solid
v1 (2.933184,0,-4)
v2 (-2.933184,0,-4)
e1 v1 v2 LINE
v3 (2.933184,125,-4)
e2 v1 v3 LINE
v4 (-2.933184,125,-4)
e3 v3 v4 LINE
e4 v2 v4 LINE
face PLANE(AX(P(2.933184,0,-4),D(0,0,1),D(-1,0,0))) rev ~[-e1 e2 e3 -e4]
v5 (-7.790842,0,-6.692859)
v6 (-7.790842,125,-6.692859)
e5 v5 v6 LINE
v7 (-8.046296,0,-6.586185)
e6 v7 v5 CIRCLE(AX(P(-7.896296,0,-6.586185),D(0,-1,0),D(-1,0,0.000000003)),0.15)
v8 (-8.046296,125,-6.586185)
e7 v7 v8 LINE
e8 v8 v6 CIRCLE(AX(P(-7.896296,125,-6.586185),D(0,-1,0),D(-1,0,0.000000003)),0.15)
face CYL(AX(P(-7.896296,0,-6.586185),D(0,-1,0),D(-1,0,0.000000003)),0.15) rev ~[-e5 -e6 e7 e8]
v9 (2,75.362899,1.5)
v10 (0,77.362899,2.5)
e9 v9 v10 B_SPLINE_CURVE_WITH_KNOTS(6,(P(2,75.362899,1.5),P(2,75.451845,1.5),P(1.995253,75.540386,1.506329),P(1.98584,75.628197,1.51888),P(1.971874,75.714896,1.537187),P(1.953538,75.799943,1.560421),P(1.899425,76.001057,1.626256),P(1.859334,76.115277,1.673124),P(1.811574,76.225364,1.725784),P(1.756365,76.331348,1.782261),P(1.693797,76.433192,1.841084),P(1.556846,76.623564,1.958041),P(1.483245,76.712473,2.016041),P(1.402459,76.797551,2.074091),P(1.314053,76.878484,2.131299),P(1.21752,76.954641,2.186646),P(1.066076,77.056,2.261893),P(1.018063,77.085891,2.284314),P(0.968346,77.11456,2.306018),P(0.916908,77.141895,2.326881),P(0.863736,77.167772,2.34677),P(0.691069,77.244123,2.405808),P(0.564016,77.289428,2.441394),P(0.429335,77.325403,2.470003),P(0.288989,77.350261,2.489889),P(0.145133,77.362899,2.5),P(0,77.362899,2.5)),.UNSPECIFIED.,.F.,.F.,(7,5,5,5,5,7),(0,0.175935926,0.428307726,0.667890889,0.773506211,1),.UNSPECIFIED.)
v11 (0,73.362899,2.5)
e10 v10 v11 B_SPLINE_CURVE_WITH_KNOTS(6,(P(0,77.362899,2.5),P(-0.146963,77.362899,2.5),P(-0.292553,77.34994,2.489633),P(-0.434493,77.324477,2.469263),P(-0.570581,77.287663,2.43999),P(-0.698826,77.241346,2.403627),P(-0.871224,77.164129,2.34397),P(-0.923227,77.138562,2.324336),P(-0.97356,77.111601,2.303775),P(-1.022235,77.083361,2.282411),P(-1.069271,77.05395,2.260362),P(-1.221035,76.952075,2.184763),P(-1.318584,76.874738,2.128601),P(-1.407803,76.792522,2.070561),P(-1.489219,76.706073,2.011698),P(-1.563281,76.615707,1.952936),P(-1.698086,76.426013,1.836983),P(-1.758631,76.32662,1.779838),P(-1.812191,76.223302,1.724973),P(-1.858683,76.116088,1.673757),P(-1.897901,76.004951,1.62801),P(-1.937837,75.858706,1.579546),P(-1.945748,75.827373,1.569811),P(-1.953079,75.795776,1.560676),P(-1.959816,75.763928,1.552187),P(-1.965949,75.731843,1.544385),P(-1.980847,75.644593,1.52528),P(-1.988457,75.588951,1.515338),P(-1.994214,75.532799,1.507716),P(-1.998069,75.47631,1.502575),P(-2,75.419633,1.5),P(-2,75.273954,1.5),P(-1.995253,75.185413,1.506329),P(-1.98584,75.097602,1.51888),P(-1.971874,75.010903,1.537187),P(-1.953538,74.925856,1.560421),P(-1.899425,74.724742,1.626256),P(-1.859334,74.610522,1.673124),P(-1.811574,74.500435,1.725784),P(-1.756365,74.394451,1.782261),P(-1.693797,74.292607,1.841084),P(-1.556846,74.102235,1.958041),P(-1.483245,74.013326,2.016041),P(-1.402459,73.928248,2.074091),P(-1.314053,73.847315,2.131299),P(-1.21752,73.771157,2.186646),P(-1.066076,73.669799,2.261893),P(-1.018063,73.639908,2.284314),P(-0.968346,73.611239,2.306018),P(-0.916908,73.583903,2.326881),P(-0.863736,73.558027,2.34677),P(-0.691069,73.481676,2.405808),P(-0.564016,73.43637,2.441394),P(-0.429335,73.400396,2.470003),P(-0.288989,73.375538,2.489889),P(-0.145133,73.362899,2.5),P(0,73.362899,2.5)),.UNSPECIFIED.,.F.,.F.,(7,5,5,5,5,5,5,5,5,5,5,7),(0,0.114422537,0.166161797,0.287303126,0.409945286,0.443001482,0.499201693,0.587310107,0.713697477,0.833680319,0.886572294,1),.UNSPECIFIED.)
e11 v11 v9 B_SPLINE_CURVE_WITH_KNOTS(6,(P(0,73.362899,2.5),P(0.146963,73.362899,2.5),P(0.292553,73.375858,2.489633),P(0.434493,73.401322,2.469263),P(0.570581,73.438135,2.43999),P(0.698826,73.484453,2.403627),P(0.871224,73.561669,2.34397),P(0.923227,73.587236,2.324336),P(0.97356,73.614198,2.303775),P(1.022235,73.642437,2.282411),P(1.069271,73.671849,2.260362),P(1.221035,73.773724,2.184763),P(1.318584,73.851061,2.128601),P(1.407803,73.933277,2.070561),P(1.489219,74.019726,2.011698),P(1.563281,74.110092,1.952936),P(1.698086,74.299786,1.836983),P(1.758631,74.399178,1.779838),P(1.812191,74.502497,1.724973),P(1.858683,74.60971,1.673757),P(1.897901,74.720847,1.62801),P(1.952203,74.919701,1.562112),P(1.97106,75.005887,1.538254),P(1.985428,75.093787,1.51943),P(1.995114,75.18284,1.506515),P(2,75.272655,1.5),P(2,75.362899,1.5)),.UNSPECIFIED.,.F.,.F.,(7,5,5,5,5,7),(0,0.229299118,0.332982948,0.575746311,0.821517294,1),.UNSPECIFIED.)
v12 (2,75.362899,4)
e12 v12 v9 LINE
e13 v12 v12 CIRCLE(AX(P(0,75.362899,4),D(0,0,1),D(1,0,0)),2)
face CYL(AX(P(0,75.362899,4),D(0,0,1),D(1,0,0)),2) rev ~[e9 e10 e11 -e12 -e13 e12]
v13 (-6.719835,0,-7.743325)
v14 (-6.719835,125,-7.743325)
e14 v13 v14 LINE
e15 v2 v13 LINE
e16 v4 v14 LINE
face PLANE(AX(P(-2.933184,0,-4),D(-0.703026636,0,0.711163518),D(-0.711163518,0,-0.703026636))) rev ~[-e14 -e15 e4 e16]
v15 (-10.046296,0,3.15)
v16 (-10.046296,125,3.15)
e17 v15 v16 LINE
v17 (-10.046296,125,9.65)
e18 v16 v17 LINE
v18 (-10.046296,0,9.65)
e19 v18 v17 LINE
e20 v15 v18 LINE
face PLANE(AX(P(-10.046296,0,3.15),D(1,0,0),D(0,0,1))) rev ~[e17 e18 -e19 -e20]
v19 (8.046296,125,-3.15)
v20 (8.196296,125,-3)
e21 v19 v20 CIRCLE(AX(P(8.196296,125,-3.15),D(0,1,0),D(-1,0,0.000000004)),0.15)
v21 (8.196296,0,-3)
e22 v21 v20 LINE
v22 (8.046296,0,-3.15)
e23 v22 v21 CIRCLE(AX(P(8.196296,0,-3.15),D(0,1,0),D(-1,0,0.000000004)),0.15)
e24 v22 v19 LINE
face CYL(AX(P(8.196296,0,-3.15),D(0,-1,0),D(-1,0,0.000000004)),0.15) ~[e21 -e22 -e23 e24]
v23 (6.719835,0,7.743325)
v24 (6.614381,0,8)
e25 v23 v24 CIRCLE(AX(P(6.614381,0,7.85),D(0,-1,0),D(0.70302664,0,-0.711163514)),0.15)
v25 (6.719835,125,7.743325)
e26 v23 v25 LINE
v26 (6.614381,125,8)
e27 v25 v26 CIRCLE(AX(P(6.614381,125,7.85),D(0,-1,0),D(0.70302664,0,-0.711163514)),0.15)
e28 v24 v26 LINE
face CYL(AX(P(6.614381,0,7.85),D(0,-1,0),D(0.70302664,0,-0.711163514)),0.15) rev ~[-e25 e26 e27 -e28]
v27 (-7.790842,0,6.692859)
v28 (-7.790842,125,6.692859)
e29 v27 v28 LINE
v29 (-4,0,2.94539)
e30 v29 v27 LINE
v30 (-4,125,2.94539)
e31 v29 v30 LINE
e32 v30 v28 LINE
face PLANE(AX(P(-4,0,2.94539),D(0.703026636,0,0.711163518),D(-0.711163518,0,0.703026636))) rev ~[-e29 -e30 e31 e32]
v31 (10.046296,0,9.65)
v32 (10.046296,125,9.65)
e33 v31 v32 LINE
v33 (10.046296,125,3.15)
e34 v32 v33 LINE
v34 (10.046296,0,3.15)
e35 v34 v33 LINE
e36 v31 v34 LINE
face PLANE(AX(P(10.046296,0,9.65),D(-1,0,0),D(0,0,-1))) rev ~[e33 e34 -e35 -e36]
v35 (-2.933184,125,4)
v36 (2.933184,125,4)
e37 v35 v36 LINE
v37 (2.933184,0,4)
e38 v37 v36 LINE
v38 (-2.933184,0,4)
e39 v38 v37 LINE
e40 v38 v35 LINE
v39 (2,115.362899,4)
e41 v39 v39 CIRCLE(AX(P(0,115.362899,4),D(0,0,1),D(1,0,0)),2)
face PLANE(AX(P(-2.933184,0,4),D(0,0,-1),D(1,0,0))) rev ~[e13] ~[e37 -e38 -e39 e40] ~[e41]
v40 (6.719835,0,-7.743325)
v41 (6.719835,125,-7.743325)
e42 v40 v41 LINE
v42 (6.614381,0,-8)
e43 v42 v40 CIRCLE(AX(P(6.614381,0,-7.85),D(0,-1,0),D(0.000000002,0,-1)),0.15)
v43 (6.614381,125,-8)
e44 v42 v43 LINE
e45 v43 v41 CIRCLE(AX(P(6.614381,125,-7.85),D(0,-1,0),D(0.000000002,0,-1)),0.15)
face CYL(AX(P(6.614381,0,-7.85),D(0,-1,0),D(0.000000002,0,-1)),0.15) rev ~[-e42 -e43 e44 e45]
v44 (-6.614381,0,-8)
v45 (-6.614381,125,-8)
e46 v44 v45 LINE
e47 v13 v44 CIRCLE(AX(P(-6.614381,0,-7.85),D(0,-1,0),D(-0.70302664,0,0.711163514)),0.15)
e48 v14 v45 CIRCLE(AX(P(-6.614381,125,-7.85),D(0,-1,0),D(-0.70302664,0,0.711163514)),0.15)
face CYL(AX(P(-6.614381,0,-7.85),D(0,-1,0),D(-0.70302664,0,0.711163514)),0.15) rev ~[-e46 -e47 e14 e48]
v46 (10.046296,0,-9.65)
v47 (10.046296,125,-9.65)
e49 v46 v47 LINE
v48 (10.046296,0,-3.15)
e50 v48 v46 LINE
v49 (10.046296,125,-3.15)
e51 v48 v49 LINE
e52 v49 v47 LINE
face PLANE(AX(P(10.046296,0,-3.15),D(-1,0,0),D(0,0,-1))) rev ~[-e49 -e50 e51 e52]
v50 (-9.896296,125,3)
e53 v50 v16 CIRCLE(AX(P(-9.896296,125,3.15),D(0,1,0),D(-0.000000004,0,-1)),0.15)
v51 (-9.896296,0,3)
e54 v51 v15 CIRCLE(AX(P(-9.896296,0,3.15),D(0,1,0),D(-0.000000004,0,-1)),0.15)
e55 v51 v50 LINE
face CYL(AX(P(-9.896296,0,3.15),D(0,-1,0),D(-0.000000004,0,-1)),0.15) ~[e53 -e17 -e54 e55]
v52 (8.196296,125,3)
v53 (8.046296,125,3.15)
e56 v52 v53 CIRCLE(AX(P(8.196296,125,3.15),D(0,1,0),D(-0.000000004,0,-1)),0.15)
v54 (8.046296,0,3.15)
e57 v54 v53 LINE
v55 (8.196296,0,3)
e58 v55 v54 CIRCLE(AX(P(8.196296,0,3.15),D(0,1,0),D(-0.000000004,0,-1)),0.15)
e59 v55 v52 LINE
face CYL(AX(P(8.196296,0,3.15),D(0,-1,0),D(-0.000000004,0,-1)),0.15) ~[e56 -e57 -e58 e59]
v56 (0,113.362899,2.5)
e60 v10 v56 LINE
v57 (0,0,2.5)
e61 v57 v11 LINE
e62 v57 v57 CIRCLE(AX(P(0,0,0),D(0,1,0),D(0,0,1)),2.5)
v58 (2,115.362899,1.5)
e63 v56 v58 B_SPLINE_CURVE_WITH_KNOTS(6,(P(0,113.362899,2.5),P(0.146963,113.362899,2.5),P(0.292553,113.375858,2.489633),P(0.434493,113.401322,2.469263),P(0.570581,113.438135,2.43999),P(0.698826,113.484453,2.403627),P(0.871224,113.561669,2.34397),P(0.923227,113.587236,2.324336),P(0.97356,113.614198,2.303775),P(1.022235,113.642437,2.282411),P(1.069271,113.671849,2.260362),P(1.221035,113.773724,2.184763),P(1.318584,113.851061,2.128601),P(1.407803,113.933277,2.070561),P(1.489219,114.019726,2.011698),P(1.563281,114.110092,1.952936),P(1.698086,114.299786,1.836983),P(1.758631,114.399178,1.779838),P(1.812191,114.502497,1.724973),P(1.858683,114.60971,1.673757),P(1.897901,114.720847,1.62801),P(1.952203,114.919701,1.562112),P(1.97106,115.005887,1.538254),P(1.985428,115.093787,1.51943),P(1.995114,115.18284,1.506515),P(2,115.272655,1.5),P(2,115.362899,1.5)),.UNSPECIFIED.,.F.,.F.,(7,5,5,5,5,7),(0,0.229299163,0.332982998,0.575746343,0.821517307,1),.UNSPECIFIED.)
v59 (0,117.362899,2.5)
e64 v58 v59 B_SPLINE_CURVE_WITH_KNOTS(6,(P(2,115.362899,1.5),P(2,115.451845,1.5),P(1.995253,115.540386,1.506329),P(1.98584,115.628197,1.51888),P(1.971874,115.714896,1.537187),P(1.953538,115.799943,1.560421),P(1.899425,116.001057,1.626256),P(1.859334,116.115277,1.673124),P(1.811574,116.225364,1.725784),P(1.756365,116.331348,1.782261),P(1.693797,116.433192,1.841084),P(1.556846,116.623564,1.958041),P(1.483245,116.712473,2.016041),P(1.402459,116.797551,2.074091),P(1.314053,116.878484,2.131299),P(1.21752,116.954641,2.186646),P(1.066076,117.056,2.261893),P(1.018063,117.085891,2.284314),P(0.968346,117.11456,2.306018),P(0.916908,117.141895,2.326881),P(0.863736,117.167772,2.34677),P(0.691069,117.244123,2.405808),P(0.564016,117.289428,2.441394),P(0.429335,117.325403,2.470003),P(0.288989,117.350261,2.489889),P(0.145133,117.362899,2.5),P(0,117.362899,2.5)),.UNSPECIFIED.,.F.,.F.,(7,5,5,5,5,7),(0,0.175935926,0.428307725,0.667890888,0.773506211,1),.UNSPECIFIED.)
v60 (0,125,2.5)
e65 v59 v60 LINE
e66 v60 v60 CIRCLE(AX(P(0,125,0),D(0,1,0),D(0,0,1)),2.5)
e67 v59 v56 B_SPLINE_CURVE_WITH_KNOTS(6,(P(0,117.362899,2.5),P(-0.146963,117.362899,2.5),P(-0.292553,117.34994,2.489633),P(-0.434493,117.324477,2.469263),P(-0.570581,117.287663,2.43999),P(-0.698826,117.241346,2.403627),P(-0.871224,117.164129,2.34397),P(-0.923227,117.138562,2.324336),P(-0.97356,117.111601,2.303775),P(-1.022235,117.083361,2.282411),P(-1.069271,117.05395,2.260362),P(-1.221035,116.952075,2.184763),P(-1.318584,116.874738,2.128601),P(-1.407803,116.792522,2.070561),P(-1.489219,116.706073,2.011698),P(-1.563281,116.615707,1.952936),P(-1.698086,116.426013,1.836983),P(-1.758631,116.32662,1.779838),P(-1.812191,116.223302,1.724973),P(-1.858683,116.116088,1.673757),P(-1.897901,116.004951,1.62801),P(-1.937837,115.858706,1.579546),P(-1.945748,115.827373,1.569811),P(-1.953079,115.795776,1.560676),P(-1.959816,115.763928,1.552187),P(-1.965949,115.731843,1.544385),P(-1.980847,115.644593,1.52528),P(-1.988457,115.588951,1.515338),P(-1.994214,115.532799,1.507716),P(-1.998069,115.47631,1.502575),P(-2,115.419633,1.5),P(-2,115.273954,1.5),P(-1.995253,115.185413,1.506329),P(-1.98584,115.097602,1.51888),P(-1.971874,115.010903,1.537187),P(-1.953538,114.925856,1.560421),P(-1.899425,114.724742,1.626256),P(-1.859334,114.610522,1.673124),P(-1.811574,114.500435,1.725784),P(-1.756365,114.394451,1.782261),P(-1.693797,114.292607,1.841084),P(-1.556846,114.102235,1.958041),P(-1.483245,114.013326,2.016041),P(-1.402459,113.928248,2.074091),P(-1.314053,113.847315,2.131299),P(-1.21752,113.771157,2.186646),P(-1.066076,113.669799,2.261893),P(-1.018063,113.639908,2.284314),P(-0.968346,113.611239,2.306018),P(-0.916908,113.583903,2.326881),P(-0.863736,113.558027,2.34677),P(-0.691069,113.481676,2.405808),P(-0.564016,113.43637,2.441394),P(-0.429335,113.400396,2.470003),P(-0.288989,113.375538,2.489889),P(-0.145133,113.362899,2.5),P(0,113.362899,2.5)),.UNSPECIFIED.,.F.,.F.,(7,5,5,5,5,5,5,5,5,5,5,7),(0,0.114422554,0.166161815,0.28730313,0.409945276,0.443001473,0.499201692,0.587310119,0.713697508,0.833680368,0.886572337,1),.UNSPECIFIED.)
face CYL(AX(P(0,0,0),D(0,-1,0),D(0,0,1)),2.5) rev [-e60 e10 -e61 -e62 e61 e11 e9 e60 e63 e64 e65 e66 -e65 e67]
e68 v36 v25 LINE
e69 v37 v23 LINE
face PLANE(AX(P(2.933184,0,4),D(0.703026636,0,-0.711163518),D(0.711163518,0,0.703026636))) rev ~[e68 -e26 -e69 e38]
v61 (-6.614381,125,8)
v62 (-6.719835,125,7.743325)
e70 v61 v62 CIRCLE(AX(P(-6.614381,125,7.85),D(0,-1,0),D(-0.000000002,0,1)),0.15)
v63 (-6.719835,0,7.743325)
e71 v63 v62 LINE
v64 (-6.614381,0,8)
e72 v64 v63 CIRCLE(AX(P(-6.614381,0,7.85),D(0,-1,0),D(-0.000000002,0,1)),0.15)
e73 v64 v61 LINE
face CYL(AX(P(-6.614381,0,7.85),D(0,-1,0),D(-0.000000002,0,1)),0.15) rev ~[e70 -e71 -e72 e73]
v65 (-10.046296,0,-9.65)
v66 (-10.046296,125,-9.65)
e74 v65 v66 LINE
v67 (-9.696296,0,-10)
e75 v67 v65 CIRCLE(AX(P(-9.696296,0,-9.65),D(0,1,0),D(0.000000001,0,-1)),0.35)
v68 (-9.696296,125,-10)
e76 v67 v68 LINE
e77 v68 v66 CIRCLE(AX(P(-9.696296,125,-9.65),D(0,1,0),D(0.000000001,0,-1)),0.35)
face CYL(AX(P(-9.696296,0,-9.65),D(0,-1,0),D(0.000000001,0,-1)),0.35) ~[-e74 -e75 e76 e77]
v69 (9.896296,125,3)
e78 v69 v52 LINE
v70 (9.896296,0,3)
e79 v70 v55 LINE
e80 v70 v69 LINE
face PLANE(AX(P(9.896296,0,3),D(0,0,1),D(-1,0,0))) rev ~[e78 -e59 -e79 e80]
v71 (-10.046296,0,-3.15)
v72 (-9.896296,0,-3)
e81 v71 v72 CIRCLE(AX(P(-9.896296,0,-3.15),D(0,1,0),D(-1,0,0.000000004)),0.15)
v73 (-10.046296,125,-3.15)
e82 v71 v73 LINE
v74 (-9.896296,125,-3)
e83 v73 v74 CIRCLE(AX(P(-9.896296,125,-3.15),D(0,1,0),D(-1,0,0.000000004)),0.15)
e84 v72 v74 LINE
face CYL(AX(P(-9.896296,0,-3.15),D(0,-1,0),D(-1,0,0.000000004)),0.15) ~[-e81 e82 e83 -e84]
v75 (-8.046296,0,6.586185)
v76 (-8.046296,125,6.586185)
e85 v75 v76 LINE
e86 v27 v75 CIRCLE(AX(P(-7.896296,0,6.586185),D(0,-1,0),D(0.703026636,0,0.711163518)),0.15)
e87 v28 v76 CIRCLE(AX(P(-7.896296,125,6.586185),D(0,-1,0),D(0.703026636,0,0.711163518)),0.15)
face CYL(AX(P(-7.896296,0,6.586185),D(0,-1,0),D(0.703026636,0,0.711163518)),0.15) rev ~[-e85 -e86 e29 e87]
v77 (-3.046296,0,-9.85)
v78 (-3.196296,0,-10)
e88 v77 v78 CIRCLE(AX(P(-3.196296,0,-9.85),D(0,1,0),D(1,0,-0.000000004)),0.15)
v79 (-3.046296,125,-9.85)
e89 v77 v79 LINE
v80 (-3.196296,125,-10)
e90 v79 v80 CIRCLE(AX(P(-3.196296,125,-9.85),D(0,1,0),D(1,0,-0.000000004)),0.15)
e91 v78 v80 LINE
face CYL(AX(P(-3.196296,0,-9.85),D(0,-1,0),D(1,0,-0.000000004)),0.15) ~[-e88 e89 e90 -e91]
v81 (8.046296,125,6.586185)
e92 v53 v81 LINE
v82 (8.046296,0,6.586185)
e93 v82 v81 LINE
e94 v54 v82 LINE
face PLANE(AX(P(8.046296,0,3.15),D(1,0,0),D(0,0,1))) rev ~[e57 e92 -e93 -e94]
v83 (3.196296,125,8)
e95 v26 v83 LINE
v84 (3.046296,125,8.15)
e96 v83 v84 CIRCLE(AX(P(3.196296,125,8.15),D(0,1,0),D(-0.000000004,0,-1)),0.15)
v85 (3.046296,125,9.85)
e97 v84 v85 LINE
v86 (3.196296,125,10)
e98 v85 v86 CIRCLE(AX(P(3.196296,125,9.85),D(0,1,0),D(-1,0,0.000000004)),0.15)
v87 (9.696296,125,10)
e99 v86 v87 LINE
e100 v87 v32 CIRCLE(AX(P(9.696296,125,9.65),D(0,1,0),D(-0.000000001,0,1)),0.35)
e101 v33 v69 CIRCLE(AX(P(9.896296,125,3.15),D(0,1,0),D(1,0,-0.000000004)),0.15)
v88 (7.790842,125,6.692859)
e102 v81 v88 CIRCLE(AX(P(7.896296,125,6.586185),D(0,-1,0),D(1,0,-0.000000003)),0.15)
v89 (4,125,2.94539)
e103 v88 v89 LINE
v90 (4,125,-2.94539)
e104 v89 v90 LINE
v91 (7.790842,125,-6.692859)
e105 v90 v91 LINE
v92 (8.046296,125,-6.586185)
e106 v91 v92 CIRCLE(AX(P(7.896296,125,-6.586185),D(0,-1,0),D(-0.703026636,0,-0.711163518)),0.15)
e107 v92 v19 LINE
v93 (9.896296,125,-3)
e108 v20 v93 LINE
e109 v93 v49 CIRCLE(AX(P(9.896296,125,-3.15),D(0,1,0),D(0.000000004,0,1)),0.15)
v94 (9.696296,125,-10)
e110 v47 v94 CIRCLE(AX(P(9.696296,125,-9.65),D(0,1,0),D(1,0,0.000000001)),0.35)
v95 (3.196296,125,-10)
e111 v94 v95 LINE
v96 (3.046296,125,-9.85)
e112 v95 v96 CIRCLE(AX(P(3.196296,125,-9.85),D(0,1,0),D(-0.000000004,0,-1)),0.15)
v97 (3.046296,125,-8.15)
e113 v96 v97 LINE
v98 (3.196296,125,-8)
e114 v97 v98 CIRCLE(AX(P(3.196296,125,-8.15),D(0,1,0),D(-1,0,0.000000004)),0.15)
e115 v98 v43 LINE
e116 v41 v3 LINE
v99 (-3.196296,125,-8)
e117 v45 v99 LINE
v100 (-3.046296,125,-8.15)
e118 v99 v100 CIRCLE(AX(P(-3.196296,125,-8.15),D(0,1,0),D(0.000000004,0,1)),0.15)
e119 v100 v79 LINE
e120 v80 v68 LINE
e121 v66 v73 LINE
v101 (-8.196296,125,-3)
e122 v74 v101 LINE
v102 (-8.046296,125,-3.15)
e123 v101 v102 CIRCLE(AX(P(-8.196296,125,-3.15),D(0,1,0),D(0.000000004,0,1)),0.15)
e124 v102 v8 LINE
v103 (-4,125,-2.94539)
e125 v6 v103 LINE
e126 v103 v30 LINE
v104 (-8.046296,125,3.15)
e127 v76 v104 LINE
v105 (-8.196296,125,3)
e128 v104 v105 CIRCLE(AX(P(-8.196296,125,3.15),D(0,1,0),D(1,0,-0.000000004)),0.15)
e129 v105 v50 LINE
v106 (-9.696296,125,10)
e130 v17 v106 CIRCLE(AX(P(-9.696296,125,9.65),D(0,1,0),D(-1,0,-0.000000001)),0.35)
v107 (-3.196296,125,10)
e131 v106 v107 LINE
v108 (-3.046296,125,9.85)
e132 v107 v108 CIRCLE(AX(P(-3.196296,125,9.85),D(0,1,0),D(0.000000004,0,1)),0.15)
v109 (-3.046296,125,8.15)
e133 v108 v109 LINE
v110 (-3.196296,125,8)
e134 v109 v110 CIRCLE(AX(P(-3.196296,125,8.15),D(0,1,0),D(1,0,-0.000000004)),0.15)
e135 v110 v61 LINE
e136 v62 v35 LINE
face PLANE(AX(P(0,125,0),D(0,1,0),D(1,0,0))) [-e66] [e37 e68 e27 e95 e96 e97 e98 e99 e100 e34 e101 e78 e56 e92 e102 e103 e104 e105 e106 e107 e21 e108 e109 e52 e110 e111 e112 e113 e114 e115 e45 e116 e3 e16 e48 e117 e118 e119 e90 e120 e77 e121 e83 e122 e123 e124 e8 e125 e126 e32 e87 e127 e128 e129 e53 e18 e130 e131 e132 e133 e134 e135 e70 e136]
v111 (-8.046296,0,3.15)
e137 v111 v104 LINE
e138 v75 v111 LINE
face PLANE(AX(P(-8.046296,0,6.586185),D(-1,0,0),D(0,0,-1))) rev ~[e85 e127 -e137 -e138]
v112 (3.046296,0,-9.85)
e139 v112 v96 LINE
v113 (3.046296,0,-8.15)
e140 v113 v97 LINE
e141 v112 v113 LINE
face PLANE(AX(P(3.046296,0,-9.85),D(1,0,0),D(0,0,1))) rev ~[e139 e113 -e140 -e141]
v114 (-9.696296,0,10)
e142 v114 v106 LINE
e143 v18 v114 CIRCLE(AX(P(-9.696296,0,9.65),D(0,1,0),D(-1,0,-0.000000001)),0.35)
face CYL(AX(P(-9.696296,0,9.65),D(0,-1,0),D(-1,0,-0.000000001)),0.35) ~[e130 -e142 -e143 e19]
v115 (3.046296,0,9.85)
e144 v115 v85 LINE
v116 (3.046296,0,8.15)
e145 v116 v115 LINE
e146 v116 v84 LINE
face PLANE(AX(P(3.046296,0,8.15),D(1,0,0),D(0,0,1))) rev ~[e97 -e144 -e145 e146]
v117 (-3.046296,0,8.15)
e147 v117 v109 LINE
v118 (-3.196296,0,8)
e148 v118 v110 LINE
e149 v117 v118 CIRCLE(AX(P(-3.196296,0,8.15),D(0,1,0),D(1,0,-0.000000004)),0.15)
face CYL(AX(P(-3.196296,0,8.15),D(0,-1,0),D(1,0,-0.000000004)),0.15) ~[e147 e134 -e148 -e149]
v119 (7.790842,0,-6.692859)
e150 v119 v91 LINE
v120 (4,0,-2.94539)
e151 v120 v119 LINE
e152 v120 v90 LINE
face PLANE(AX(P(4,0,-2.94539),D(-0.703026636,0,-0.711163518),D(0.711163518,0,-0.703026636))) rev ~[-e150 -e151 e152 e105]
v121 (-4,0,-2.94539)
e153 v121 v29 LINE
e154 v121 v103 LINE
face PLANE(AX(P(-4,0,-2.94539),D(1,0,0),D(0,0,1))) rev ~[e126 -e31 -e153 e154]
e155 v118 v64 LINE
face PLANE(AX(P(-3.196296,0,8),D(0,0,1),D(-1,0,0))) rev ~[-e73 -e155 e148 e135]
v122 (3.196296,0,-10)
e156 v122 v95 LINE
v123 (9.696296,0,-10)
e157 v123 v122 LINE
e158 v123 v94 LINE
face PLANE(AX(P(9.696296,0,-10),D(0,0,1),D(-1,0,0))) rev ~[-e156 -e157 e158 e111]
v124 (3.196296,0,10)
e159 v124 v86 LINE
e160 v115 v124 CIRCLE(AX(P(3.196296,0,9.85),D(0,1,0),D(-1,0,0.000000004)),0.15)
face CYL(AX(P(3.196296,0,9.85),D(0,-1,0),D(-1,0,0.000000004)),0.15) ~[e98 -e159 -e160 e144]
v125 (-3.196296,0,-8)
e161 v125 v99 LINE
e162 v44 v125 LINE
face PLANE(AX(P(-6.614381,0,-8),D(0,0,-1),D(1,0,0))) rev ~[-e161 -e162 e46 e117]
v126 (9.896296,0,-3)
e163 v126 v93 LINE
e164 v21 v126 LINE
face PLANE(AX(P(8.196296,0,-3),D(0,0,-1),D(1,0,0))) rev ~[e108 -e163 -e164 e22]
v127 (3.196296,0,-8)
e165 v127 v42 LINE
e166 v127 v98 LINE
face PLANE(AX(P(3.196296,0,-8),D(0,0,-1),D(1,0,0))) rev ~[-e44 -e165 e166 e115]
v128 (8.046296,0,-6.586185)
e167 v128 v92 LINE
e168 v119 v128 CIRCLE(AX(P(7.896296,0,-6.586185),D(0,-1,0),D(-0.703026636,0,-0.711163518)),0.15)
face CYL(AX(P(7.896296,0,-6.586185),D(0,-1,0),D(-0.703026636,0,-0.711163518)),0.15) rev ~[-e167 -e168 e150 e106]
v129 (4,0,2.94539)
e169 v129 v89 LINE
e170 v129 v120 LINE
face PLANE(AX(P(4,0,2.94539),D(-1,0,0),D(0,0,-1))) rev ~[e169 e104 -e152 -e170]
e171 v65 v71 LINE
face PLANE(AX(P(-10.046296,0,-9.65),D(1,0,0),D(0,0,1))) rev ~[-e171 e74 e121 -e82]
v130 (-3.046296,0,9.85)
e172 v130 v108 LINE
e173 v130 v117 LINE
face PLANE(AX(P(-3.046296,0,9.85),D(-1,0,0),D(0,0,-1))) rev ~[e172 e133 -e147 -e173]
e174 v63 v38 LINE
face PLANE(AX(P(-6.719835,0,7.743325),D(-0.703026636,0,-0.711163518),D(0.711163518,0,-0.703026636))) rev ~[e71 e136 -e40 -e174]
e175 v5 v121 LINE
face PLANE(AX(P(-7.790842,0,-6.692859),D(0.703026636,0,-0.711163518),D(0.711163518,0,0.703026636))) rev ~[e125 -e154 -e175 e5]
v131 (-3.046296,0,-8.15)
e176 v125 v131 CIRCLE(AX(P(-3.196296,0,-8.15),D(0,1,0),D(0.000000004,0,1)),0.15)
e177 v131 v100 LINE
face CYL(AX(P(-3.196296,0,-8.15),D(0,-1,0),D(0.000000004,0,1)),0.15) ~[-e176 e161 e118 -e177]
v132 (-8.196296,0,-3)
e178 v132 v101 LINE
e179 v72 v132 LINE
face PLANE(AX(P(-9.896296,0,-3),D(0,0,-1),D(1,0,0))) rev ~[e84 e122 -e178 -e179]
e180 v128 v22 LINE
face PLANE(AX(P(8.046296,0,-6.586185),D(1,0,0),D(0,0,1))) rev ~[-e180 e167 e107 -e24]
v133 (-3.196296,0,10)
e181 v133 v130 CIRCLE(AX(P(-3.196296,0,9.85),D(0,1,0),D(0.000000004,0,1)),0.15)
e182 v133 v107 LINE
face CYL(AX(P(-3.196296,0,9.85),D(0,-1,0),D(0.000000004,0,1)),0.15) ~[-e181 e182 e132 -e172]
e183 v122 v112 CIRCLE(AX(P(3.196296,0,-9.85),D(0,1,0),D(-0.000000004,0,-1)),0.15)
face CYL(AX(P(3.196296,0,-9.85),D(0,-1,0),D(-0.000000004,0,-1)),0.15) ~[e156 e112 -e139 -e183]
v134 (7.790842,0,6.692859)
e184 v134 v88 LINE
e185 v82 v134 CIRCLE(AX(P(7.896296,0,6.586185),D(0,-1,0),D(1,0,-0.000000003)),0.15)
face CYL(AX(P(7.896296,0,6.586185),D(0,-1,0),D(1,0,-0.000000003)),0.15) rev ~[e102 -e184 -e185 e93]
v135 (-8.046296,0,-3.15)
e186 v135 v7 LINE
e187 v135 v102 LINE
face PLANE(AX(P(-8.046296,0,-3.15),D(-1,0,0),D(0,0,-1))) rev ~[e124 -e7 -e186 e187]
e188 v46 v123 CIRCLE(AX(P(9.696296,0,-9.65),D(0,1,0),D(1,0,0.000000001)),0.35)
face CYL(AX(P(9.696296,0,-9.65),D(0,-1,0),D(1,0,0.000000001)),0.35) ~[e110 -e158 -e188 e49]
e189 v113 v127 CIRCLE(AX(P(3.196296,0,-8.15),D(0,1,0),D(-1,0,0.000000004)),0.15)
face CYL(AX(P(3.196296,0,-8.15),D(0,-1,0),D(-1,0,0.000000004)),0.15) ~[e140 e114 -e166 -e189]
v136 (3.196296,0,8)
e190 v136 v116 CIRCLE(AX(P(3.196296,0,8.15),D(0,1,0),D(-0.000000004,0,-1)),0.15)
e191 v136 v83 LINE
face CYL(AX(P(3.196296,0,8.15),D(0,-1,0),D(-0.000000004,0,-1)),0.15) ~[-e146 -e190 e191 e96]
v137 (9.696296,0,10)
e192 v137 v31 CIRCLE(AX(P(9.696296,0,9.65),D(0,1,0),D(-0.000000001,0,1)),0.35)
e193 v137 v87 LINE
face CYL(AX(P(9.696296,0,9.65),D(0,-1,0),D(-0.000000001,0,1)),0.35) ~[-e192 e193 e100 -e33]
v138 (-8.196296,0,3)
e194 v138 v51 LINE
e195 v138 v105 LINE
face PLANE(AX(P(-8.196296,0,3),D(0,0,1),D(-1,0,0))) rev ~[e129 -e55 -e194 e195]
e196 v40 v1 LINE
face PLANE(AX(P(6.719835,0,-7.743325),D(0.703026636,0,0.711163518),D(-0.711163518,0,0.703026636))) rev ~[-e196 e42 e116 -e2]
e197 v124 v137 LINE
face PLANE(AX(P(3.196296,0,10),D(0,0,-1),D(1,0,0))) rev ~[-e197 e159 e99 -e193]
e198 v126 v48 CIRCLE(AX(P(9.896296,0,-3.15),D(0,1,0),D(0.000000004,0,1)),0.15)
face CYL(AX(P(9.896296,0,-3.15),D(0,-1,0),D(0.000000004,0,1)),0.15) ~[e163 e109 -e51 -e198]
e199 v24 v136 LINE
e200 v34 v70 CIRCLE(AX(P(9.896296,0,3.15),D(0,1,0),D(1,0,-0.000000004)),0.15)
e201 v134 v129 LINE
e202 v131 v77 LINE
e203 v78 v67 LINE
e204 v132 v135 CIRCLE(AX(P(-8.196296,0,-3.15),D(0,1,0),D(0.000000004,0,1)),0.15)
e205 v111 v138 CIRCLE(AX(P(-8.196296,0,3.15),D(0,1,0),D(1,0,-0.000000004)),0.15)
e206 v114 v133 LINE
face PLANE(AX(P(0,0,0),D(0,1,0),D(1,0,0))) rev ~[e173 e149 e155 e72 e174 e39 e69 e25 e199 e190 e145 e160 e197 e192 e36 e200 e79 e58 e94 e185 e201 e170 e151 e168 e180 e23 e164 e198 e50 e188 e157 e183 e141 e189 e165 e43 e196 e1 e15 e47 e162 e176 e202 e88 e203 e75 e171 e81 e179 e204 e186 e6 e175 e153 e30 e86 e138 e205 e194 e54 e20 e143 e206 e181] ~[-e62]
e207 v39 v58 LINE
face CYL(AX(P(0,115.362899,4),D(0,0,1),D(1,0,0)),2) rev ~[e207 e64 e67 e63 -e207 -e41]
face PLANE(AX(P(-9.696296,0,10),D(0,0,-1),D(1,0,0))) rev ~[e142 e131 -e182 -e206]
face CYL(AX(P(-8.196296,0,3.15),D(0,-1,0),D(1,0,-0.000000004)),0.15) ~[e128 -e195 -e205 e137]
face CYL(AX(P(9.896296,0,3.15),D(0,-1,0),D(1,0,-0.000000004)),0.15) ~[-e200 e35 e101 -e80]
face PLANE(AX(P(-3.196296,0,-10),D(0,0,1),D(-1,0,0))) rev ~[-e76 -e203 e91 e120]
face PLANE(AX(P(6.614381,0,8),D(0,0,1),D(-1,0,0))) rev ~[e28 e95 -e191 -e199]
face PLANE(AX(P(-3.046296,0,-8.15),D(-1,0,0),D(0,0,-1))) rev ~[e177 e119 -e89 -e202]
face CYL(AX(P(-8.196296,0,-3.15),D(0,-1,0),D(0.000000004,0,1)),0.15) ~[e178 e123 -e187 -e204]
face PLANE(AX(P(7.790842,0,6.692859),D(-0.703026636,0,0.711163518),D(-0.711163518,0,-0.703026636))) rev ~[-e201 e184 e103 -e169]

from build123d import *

# Parameters (mm, degrees)
SKETCH1_R           = 2.5
BOSS_EXTRUDE2_DEPTH = 125
SKETCH2_R           = 2
CUT_EXTRUDE1_DEPTH  = 5


with BuildPart() as part:
    # Sketch1 → Boss-Extrude2 (new body)
    with BuildSketch(Plane(origin=(0, 0, 0), x_dir=(1, 0, 0), z_dir=(0, 1, 0))):
        with BuildLine():
            Line((-9.896296296, 3), (-8.196296296, 3))
            ThreePointArc((-8.196296296, 3), (-8.090230279, 3.043933983), (-8.046296296, 3.15))
            Line((-8.046296296, 3.15), (-8.046296296, 6.586184513))
            ThreePointArc((-8.046296296, 6.586184513), (-7.954097251, 6.724600732), (-7.790842301, 6.692859041))
            Line((-7.790842301, 6.692859041), (-4, 2.945390222))
            Line((-4, 2.945390222), (-4, -2.945390222))
            Line((-4, -2.945390222), (-7.790842301, -6.692859041))
            ThreePointArc((-7.790842301, -6.692859041), (-7.954097251, -6.724600732), (-8.046296296, -6.586184513))
            Line((-8.046296296, -6.586184513), (-8.046296296, -3.15))
            ThreePointArc((-8.046296296, -3.15), (-8.090230279, -3.043933983), (-8.196296296, -3))
            Line((-8.196296296, -3), (-9.896296296, -3))
            ThreePointArc((-9.896296296, -3), (-10.002362313, -3.043933983), (-10.046296296, -3.15))
            Line((-10.046296296, -3.15), (-10.046296296, -9.65))
            ThreePointArc((-10.046296296, -9.65), (-9.94378367, -9.897487373), (-9.696296296, -10))
            Line((-9.696296296, -10), (-3.196296296, -10))
            ThreePointArc((-3.196296296, -10), (-3.090230279, -9.956066017), (-3.046296296, -9.85))
            Line((-3.046296296, -9.85), (-3.046296296, -8.15))
            ThreePointArc((-3.046296296, -8.15), (-3.090230279, -8.043933983), (-3.196296296, -8))
            Line((-3.196296296, -8), (-6.614381093, -8))
            ThreePointArc((-6.614381093, -8), (-6.753127587, -7.9070036), (-6.719835089, -7.743325472))
            Line((-6.719835089, -7.743325472), (-2.93318409, -4))
            Line((-2.93318409, -4), (2.93318409, -4))
            Line((2.93318409, -4), (6.719835089, -7.743325472))
            ThreePointArc((6.719835089, -7.743325472), (6.753127587, -7.9070036), (6.614381093, -8))
            Line((6.614381093, -8), (3.196296296, -8))
            ThreePointArc((3.196296296, -8), (3.090230279, -8.043933983), (3.046296296, -8.15))
            Line((3.046296296, -8.15), (3.046296296, -9.85))
            ThreePointArc((3.046296296, -9.85), (3.090230279, -9.956066017), (3.196296296, -10))
            Line((3.196296296, -10), (9.696296296, -10))
            ThreePointArc((9.696296296, -10), (9.94378367, -9.897487373), (10.046296296, -9.65))
            Line((10.046296296, -9.65), (10.046296296, -3.15))
            ThreePointArc((10.046296296, -3.15), (10.002362313, -3.043933983), (9.896296296, -3))
            Line((9.896296296, -3), (8.196296296, -3))
            ThreePointArc((8.196296296, -3), (8.090230279, -3.043933983), (8.046296296, -3.15))
            Line((8.046296296, -3.15), (8.046296296, -6.586184513))
            ThreePointArc((8.046296296, -6.586184513), (7.954097251, -6.724600732), (7.790842301, -6.692859041))
            Line((7.790842301, -6.692859041), (4, -2.945390222))
            Line((4, -2.945390222), (4, 2.945390222))
            Line((4, 2.945390222), (7.790842301, 6.692859041))
            ThreePointArc((7.790842301, 6.692859041), (7.954097251, 6.724600732), (8.046296296, 6.586184513))
            Line((8.046296296, 6.586184513), (8.046296296, 3.15))
            ThreePointArc((8.046296296, 3.15), (8.090230279, 3.043933983), (8.196296296, 3))
            Line((8.196296296, 3), (9.896296296, 3))
            ThreePointArc((9.896296296, 3), (10.002362313, 3.043933983), (10.046296296, 3.15))
            Line((10.046296296, 3.15), (10.046296296, 9.65))
            ThreePointArc((10.046296296, 9.65), (9.94378367, 9.897487373), (9.696296296, 10))
            Line((9.696296296, 10), (3.196296296, 10))
            ThreePointArc((3.196296296, 10), (3.090230279, 9.956066017), (3.046296296, 9.85))
            Line((3.046296296, 9.85), (3.046296296, 8.15))
            ThreePointArc((3.046296296, 8.15), (3.090230279, 8.043933983), (3.196296296, 8))
            Line((3.196296296, 8), (6.614381093, 8))
            ThreePointArc((6.614381093, 8), (6.753127587, 7.9070036), (6.719835089, 7.743325472))
            Line((6.719835089, 7.743325472), (2.93318409, 4))
            Line((2.93318409, 4), (-2.93318409, 4))
            Line((-2.93318409, 4), (-6.719835089, 7.743325472))
            ThreePointArc((-6.719835089, 7.743325472), (-6.753127587, 7.9070036), (-6.614381093, 8))
            Line((-6.614381093, 8), (-3.196296296, 8))
            ThreePointArc((-3.196296296, 8), (-3.090230279, 8.043933983), (-3.046296296, 8.15))
            Line((-3.046296296, 8.15), (-3.046296296, 9.85))
            ThreePointArc((-3.046296296, 9.85), (-3.090230279, 9.956066017), (-3.196296296, 10))
            Line((-3.196296296, 10), (-9.696296296, 10))
            ThreePointArc((-9.696296296, 10), (-9.94378367, 9.897487373), (-10.046296296, 9.65))
            Line((-10.046296296, 9.65), (-10.046296296, 3.15))
            ThreePointArc((-10.046296296, 3.15), (-10.002362313, 3.043933983), (-9.896296296, 3))
        make_face()
        with Locations(Location((0, 0, 0), (0, 0, 270))):
            Circle(SKETCH1_R, mode=Mode.SUBTRACT)
    extrude(amount=BOSS_EXTRUDE2_DEPTH)

    # Sketch2 → Cut-Extrude1 (cut)
    with BuildSketch(Plane.XY.offset(4)):
        with Locations((0, 115.362899348)):
            Circle(SKETCH2_R)
        with Locations((0, 75.362899348)):
            Circle(SKETCH2_R)
    extrude(amount=-CUT_EXTRUDE1_DEPTH, mode=Mode.SUBTRACT)


solid = part.part
